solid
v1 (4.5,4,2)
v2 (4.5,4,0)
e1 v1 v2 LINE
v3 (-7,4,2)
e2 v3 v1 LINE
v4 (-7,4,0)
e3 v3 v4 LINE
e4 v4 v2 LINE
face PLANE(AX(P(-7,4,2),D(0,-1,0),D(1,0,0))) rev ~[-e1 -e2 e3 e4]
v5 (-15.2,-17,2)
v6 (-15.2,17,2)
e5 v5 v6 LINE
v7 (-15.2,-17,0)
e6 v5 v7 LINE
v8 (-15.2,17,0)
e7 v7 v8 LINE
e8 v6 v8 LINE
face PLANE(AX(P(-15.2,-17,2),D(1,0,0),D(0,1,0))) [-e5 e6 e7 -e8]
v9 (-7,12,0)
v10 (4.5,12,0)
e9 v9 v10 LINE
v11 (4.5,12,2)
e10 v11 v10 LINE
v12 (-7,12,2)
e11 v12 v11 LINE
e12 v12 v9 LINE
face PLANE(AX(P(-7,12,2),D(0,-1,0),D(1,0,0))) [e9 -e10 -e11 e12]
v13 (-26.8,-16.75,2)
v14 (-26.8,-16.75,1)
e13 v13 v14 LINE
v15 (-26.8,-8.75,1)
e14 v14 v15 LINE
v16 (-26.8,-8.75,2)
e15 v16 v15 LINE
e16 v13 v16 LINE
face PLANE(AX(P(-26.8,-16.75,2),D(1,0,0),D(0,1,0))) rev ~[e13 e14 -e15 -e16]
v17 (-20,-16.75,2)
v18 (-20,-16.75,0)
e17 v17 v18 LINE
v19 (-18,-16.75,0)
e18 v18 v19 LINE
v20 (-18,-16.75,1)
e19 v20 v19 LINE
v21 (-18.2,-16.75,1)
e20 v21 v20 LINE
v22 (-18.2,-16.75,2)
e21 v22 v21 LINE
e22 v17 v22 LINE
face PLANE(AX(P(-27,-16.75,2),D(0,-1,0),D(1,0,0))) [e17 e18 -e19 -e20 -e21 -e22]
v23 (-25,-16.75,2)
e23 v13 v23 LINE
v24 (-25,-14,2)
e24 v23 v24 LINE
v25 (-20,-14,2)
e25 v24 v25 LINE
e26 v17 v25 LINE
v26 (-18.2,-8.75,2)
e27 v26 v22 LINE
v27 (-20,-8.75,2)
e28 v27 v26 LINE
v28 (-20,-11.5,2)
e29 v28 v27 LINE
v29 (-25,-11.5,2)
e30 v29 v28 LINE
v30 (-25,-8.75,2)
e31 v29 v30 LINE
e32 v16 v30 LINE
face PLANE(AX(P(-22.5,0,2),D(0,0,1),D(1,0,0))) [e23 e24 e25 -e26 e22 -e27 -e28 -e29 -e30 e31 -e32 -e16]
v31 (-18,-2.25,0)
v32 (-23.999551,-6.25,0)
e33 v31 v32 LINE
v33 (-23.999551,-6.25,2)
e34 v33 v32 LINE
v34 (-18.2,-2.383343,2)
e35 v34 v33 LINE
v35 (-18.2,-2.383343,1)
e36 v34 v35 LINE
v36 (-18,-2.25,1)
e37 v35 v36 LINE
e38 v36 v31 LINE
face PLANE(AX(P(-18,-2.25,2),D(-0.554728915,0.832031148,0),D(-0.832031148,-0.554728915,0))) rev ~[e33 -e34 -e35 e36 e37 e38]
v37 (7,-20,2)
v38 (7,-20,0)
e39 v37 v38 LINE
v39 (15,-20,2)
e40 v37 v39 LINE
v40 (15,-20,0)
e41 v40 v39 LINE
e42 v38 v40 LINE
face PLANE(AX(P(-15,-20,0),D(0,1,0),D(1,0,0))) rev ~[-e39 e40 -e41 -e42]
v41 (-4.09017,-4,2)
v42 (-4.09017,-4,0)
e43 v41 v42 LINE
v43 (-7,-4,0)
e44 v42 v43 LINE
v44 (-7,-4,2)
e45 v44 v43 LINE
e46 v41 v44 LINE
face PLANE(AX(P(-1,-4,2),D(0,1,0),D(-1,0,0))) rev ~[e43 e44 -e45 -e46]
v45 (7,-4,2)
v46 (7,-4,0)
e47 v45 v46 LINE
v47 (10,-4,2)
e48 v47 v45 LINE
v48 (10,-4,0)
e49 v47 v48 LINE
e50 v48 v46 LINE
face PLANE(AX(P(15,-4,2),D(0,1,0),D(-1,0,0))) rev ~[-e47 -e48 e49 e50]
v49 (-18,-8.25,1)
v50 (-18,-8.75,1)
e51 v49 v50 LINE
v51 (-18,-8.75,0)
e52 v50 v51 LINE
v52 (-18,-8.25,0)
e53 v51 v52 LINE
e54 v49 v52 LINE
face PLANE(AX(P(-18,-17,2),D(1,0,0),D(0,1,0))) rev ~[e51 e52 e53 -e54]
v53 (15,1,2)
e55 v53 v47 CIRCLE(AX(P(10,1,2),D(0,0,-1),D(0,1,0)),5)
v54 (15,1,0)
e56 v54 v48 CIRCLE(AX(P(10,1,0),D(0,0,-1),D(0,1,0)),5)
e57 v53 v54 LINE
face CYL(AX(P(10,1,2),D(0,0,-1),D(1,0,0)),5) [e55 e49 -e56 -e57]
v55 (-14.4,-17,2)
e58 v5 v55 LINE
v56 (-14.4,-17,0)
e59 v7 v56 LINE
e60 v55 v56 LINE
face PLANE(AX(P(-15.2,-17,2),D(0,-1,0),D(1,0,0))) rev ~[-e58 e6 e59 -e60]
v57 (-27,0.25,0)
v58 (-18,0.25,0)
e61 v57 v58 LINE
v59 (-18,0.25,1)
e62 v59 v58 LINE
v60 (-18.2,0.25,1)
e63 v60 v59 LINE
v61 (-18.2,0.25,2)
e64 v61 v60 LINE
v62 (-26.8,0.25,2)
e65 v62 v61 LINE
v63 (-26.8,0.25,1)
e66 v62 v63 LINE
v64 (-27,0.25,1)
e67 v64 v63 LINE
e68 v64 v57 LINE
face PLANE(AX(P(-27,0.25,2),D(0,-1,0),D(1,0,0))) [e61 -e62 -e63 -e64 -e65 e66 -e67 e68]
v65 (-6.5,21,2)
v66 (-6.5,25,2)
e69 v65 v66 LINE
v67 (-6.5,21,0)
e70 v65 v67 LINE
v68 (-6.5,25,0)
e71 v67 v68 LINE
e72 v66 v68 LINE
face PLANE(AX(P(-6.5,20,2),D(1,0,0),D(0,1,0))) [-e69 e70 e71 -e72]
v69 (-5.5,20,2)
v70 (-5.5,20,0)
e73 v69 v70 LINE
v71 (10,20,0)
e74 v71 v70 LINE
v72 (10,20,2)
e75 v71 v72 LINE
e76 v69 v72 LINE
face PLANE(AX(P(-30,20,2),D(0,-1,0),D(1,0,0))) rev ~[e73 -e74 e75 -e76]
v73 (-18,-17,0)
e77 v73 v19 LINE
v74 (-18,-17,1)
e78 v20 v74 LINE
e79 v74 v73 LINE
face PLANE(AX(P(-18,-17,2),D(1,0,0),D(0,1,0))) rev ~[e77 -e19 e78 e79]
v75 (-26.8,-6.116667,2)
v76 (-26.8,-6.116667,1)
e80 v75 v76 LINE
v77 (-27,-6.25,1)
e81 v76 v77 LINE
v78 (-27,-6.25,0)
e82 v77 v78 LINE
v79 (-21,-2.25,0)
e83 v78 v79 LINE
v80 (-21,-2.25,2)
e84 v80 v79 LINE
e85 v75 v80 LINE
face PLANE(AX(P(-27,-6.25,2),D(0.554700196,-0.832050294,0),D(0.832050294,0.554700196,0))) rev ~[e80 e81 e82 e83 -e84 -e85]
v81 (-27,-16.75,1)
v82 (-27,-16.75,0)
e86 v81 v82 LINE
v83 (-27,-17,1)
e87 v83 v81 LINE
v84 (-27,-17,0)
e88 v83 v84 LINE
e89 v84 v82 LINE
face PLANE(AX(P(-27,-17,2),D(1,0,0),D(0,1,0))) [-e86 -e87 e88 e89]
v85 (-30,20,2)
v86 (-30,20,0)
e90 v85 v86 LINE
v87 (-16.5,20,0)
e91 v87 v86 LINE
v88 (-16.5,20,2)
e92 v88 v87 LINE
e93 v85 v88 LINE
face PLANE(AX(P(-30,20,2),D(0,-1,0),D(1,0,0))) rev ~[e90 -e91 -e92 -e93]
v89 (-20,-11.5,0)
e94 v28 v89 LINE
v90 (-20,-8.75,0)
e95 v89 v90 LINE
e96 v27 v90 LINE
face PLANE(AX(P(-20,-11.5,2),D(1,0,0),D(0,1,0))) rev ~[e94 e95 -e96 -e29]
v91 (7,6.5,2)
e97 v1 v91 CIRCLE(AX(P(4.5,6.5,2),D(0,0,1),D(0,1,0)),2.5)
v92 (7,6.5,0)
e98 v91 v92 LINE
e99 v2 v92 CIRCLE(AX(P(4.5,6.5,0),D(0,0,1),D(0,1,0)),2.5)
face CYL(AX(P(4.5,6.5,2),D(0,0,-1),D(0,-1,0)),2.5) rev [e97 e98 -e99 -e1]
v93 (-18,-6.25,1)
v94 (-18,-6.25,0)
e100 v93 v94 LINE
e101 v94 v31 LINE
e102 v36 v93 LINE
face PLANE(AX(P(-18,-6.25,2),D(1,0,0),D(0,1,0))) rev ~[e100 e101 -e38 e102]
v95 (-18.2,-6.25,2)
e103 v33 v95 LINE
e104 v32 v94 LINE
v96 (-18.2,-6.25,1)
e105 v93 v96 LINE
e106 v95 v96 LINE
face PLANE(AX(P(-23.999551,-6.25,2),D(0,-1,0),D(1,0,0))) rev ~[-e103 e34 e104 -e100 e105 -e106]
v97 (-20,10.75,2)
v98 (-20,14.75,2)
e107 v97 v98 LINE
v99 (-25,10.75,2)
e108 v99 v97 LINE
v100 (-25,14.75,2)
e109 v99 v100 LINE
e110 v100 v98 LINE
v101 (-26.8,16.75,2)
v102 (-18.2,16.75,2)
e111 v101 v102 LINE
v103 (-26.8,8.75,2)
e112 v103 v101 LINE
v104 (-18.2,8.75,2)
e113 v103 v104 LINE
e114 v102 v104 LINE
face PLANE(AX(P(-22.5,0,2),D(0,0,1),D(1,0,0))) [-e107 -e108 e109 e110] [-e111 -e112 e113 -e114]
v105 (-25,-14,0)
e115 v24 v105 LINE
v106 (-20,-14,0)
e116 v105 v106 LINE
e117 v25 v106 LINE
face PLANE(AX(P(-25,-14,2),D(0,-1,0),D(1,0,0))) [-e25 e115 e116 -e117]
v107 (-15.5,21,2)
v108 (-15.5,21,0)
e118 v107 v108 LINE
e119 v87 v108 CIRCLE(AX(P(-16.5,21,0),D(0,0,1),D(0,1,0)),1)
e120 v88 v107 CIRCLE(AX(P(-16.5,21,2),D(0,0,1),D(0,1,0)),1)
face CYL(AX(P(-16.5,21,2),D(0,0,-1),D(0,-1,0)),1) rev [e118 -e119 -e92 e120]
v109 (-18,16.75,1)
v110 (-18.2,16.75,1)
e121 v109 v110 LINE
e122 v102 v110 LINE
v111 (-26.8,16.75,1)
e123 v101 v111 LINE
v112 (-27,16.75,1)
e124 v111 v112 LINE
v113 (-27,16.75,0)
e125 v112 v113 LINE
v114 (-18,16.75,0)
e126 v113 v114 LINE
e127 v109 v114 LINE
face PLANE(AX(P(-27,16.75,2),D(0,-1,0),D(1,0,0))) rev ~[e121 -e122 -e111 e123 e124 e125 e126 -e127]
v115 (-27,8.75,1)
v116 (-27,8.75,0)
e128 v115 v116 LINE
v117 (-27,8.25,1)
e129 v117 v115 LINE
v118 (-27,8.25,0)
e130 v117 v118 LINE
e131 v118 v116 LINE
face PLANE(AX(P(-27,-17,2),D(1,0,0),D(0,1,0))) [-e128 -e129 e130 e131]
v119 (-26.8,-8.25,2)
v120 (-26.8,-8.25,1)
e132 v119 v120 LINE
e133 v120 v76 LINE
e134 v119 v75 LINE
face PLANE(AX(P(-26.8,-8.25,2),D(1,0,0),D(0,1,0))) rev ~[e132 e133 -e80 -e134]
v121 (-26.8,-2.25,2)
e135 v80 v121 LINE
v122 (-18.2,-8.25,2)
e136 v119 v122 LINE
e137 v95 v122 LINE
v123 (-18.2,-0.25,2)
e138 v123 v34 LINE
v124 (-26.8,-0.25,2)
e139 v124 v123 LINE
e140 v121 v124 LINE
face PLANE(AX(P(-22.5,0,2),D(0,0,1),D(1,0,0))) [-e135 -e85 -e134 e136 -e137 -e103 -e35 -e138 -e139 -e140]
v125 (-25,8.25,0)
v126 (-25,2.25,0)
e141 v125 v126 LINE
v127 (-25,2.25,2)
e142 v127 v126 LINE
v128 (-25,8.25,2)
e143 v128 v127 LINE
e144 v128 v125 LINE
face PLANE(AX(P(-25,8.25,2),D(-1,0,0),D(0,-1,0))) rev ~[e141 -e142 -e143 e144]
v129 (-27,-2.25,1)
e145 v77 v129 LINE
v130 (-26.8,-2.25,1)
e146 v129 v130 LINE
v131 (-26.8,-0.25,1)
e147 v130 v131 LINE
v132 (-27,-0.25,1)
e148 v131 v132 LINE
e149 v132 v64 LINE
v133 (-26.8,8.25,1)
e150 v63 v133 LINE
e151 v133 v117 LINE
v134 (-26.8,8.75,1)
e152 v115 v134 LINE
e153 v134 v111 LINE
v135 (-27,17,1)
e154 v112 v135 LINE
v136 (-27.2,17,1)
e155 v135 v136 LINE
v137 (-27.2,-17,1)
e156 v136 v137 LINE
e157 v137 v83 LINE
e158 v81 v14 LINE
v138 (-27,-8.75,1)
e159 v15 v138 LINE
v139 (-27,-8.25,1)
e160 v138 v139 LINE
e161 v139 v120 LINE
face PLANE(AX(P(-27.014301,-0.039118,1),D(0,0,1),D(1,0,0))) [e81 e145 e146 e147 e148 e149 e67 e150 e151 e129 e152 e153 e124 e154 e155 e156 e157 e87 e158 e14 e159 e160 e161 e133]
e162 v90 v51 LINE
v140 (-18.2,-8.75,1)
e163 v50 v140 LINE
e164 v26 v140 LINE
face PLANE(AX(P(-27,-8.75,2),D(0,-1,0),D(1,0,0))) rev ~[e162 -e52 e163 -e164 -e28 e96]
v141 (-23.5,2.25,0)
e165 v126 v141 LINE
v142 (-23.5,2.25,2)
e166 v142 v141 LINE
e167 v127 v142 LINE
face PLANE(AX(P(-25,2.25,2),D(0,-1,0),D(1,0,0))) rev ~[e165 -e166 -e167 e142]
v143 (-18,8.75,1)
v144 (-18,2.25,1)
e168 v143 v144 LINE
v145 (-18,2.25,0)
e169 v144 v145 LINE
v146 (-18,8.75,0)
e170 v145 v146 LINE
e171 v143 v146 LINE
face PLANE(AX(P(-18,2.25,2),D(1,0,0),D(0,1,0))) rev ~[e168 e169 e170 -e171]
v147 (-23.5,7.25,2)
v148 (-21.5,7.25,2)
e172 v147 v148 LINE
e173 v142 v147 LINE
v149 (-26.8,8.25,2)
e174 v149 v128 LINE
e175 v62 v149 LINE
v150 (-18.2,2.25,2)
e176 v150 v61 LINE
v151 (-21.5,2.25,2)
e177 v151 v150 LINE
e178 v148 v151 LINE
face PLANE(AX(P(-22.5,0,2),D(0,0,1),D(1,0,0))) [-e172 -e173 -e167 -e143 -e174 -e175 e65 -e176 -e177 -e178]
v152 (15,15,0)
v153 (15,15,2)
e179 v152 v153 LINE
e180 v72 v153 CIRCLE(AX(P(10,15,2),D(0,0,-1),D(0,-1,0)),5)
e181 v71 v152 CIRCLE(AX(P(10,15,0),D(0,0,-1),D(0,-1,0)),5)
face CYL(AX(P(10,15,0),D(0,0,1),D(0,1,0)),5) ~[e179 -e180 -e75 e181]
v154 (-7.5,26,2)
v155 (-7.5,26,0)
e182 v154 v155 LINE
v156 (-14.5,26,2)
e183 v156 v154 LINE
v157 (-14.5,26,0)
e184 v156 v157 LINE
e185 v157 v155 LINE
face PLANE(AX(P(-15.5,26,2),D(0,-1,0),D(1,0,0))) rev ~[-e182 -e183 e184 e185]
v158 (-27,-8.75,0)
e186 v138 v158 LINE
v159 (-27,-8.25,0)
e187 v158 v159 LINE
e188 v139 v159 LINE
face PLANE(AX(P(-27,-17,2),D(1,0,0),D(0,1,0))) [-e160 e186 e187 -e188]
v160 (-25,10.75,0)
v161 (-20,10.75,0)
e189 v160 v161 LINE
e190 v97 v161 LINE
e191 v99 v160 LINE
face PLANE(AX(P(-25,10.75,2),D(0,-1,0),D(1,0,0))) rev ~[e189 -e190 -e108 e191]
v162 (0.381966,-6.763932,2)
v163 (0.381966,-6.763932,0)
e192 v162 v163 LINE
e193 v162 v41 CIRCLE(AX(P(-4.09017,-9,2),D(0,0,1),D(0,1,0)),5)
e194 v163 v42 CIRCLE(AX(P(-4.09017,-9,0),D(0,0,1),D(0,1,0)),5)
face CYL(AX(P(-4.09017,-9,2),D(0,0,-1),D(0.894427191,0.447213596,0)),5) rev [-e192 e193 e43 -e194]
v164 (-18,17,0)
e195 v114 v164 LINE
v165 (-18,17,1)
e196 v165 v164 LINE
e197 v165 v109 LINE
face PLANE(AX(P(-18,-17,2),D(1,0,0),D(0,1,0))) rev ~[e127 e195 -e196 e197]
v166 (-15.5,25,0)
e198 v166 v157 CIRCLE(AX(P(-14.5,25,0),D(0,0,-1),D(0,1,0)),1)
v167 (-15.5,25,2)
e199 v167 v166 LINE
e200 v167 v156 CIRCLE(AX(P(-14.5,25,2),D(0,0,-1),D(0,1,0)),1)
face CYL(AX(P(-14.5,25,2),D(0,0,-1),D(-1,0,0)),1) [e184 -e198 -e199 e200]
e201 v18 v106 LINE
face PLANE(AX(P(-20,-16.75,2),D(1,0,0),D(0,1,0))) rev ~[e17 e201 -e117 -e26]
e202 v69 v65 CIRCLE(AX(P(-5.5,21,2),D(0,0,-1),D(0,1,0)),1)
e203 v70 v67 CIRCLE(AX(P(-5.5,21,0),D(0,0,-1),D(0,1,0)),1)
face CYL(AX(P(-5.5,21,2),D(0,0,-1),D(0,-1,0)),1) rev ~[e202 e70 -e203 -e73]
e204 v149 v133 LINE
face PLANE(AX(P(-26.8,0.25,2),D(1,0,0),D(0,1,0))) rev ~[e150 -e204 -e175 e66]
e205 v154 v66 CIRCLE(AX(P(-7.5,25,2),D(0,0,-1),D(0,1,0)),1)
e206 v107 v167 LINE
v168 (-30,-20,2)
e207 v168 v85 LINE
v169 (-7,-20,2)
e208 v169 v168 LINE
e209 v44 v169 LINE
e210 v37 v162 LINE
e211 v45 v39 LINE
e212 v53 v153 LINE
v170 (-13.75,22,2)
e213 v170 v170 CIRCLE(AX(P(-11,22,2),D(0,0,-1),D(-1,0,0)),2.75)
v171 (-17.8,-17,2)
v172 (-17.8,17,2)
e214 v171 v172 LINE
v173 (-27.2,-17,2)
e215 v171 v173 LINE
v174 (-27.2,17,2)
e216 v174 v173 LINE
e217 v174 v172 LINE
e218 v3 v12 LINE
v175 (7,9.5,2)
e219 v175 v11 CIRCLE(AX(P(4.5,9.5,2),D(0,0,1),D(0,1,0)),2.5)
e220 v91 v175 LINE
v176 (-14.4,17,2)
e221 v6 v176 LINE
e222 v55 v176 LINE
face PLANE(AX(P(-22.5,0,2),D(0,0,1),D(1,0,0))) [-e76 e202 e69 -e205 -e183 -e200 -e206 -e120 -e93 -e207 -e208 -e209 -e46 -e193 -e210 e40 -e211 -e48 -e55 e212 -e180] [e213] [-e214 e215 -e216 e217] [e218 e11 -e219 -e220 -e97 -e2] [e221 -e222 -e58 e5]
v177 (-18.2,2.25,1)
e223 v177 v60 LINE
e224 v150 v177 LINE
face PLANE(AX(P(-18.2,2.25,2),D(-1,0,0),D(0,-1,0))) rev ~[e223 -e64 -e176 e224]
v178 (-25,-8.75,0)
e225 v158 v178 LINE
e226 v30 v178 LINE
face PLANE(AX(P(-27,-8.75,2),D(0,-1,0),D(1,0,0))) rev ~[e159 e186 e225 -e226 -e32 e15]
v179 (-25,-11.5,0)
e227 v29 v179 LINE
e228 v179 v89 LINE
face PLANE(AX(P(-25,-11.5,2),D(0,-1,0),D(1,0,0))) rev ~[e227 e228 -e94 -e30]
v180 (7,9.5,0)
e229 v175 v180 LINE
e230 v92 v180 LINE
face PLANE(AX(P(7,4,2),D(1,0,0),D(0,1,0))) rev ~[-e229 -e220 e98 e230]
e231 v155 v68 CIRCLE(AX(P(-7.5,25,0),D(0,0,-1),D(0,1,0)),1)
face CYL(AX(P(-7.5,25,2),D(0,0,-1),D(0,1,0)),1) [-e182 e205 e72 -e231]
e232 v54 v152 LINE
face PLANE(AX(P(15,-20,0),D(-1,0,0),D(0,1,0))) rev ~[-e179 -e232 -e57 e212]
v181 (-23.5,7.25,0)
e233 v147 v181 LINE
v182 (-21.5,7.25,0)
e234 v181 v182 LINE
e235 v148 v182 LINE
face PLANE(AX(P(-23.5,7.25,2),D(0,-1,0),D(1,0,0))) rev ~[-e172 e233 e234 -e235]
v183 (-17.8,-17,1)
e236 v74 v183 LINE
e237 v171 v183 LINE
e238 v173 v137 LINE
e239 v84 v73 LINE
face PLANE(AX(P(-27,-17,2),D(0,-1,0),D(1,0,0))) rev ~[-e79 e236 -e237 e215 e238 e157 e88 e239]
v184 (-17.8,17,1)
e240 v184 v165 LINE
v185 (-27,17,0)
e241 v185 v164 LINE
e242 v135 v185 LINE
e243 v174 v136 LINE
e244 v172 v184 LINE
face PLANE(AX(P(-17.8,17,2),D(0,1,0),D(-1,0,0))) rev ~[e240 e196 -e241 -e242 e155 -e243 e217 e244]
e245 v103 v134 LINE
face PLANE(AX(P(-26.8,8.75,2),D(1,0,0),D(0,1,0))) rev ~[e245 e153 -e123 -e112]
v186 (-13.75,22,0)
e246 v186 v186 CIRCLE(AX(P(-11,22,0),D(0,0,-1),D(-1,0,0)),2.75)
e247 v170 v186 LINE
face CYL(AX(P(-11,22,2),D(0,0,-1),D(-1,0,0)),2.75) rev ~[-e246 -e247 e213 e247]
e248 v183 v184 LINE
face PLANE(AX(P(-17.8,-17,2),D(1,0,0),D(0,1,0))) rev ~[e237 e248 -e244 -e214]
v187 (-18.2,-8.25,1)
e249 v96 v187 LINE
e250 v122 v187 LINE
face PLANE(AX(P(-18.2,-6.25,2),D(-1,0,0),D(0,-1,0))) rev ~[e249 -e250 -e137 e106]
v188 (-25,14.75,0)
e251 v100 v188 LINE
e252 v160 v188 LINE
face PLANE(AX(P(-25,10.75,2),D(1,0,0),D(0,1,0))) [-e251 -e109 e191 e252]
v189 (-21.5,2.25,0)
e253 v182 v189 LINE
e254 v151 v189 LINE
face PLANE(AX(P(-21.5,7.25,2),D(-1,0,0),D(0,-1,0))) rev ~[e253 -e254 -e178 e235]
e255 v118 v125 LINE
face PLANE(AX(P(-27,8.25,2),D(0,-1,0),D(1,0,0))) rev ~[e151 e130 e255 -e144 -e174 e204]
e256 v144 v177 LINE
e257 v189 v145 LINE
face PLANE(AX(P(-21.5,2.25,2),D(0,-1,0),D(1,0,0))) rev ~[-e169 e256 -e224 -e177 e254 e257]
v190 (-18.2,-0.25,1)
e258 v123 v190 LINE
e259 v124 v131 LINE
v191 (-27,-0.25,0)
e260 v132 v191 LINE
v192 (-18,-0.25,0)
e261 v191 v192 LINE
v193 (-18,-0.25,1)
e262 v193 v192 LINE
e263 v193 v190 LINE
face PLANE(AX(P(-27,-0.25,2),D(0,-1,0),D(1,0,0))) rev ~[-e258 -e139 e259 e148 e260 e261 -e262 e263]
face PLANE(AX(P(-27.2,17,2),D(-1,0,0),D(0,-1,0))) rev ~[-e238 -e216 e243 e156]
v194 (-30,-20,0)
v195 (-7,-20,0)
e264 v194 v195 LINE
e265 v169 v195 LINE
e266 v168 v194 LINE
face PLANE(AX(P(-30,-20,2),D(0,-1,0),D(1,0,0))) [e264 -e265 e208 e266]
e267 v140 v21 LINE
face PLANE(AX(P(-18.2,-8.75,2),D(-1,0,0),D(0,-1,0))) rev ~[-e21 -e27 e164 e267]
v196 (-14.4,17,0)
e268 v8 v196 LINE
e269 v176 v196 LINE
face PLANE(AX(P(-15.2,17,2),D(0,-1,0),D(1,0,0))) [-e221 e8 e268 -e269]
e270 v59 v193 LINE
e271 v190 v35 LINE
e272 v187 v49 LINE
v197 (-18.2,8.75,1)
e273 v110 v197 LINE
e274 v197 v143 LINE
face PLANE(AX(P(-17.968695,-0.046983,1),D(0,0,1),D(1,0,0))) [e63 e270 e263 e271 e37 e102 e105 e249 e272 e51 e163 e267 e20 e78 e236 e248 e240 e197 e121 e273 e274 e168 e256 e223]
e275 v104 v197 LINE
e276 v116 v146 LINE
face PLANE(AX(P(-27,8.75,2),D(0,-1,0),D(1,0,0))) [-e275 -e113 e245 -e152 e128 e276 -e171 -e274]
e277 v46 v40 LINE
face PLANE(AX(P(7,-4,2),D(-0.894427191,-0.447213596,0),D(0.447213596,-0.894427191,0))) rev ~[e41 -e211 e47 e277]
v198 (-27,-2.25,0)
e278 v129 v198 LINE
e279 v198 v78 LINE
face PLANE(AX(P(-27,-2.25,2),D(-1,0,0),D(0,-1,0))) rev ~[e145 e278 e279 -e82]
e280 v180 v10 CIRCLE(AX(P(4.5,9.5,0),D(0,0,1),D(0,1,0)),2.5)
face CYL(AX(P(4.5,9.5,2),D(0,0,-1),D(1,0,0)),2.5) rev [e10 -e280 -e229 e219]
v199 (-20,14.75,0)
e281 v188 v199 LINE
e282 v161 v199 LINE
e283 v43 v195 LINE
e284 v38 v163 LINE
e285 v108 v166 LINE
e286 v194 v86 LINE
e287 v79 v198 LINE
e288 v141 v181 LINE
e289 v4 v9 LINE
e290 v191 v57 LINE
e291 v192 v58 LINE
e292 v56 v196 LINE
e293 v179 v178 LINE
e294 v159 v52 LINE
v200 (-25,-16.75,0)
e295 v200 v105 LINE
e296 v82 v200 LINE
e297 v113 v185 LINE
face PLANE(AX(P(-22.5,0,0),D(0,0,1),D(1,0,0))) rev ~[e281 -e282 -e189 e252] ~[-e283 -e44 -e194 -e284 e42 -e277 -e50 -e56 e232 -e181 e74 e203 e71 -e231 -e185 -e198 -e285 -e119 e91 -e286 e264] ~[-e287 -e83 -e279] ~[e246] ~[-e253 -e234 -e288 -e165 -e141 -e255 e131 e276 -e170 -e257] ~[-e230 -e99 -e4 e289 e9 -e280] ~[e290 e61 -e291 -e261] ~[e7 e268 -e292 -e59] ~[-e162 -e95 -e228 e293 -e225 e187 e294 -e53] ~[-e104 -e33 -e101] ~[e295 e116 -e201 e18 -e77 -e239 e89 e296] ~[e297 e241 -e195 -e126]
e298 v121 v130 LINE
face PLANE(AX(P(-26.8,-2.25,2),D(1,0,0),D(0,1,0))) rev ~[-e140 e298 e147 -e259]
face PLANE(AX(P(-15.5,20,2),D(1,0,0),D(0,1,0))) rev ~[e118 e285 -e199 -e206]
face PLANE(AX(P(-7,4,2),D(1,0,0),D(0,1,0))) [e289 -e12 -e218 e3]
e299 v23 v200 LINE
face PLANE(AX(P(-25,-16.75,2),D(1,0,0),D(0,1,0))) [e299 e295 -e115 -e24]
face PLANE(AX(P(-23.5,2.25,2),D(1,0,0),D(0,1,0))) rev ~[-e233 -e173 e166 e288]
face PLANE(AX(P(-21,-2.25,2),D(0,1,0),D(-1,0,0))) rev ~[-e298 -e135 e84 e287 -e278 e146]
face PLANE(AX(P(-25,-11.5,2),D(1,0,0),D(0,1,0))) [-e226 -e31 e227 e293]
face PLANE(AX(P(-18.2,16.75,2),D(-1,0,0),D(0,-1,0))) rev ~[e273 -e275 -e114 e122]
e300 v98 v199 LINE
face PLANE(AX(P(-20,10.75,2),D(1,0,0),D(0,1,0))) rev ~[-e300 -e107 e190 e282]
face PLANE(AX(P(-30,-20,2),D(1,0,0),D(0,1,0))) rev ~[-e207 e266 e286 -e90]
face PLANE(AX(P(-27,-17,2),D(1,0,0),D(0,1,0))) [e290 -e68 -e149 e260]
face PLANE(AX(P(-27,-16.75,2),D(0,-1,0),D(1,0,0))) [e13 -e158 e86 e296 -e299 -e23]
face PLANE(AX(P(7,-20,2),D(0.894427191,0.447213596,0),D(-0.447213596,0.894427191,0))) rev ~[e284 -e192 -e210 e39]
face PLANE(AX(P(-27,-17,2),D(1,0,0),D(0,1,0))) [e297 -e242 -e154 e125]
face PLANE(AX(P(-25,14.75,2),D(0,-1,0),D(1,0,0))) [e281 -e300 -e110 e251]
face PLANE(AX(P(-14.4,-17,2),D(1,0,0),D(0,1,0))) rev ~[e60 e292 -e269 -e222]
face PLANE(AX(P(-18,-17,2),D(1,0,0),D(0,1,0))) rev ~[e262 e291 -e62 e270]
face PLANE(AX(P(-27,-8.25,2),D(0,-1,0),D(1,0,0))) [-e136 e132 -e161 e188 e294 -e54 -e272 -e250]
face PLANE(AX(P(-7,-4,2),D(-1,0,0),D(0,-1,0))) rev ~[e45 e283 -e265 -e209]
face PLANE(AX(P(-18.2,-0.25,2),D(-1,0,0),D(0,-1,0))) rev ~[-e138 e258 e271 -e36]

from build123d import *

# Parameters (mm, degrees)
F0_W            = 30
F0_H            = 40
F1_DEPTH        = 2
F2_W            = 14
F2_H            = 8
F3_DEPTH        = 10
F5_DEPTH        = 10
F6_R            = 5
F7_R            = 2.5
F8_W            = 15
F8_H            = 40
F8_W_2          = 9
F8_H_2          = 34
F9_DEPTH        = 2
F10_W           = 0.8
F10_H           = 34
F11_DEPTH       = 10
F12_W           = 9
F12_H           = 8
F13_DEPTH       = 2
F14_W           = 5
F14_H           = 2.75
F14_H_2         = 4
F15_DEPTH       = 10
F17_DEPTH       = 1
F18_W           = 9
F18_H           = 6
F19_DEPTH       = 2
F20_R           = 1
F22_D           = 5.5
F22_CBORE_D     = 6.5
F22_CBORE_DEPTH = 0


with BuildPart() as f1:
    # F0 (on Top) → F1 (new body)
    with BuildSketch(Plane.XY):
        Rectangle(F0_W, F0_H)
    extrude(amount=F1_DEPTH)

    # F2 (on face) → F3 (cut)
    with BuildSketch(Plane.XY.offset(2)):
        with Locations((0, 8)):
            Rectangle(F2_W, F2_H)
    extrude(amount=-F3_DEPTH, mode=Mode.SUBTRACT)

    # F4 (on face) → F5 (cut)
    with BuildSketch(Plane.XY.offset(2)):
        Polygon((-1, -4), (-7, -4), (-7, -20), (7, -20), align=None)
        Polygon((15, -4), (7, -4), (15, -20), align=None)
    extrude(amount=-F5_DEPTH, mode=Mode.SUBTRACT)

    # F6
    f6_edges = [f1.edges().sort_by_distance(p)[0] for p in [
        (15, -4, 1),
        (15, 20, 1),
        (-1, -4, 1),
    ]]
    fillet(f6_edges, radius=F6_R)

    # F7
    f7_edges = [f1.edges().sort_by_distance(p)[0] for p in [
        (7, 12, 1),
        (7, 4, 1),
    ]]
    fillet(f7_edges, radius=F7_R)

    # F8 (on face) → F9 (join)
    with BuildSketch(Plane.XY.offset(2)):
        with Locations((-22.5, 0)):
            Rectangle(F8_W, F8_H)
        with Locations((-22.5, 0)):
            Rectangle(F8_W_2, F8_H_2, mode=Mode.SUBTRACT)
    extrude(amount=-F9_DEPTH)

    # F10 (on face) → F11 (cut)
    with BuildSketch(Plane.XY.offset(2)):
        with Locations((-14.8, 0)):
            Rectangle(F10_W, F10_H)
    extrude(amount=-F11_DEPTH, mode=Mode.SUBTRACT)

    # F12 (on face) → F13 (join)
    with BuildSketch(Plane.XY.offset(2)):
        with Locations((-22.5, -12.75)):
            Rectangle(F12_W, F12_H)
        with Locations((-22.5, -4.25)):
            Rectangle(F12_W, F12_H)
        with Locations((-22.5, 4.25)):
            Rectangle(F12_W, F12_H)
        with Locations((-22.5, 12.75)):
            Rectangle(F12_W, F12_H)
    extrude(amount=-F13_DEPTH)

    # F14 (on face) → F15 (cut)
    with BuildSketch(Plane.XY.offset(2)):
        with Locations((-22.5, -15.375)):
            Rectangle(F14_W, F14_H)
        with Locations((-22.5, -10.125)):
            Rectangle(F14_W, F14_H)
        Polygon((-27, -2.25), (-27, -6.25), (-21, -2.25), align=None)
        Polygon((-23.9995513111, -6.25), (-18, -6.25), (-18, -2.25), align=None)
        Polygon((-21.5, 2.25), (-18, 2.25), (-18, 8.25), (-25, 8.25), (-25, 2.25), (-23.5, 2.25), (-23.5, 7.25), (-21.5, 7.25), align=None)
        with Locations((-22.5, 12.75)):
            Rectangle(F14_W, F14_H_2)
    extrude(amount=-F15_DEPTH, mode=Mode.SUBTRACT)

    # F16 (on face) → F17 (cut)
    with BuildSketch(Plane.XY.offset(2)):
        Polygon((-27.2, 17), (-27.2, -17), (-27, -17), (-27, -16.75), (-26.8, -16.75), (-26.8, -8.75), (-27, -8.75), (-27, -8.25), (-26.8, -8.25), (-26.8, -6.1166666667), (-27, -6.25), (-27, -2.25), (-26.8, -2.25), (-26.8, -0.25), (-27, -0.25), (-27, 0.25), (-26.8, 0.25), (-26.8, 8.25), (-27, 8.25), (-27, 8.75), (-26.8, 8.75), (-26.8, 16.75), (-27, 16.75), (-27, 17), align=None)
        Polygon((-18, -16.75), (-18, -17), (-17.8, -17), (-17.8, 17), (-18, 17), (-18, 16.75), (-18.2, 16.75), (-18.2, 8.75), (-18, 8.75), (-18, 2.25), (-18.2, 2.25), (-18.2, 0.25), (-18, 0.25), (-18, -0.25), (-18.2, -0.25), (-18.2, -2.3833433049), (-18, -2.25), (-18, -6.25), (-18.2, -6.25), (-18.2, -8.25), (-18, -8.25), (-18, -8.75), (-18.2, -8.75), (-18.2, -16.75), align=None)
    extrude(amount=-F17_DEPTH, mode=Mode.SUBTRACT)

    # F18 (on face) → F19 (join)
    with BuildSketch(Plane.XY.offset(2)):
        with Locations((-11, 23)):
            Rectangle(F18_W, F18_H)
    extrude(amount=-F19_DEPTH)

    # F20
    f20_edges = [f1.edges().sort_by_distance(p)[0] for p in [
        (-15.5, 26, 1),
        (-6.5, 26, 1),
        (-6.5, 20, 1),
        (-15.5, 20, 1),
    ]]
    fillet(f20_edges, radius=F20_R)

    # F22 (through all)
    with Locations(Plane.XY.offset(2)):
        with Locations((-11, 22)):
            CounterBoreHole(F22_D / 2, F22_CBORE_D / 2, F22_CBORE_DEPTH)


solid = f1.part
